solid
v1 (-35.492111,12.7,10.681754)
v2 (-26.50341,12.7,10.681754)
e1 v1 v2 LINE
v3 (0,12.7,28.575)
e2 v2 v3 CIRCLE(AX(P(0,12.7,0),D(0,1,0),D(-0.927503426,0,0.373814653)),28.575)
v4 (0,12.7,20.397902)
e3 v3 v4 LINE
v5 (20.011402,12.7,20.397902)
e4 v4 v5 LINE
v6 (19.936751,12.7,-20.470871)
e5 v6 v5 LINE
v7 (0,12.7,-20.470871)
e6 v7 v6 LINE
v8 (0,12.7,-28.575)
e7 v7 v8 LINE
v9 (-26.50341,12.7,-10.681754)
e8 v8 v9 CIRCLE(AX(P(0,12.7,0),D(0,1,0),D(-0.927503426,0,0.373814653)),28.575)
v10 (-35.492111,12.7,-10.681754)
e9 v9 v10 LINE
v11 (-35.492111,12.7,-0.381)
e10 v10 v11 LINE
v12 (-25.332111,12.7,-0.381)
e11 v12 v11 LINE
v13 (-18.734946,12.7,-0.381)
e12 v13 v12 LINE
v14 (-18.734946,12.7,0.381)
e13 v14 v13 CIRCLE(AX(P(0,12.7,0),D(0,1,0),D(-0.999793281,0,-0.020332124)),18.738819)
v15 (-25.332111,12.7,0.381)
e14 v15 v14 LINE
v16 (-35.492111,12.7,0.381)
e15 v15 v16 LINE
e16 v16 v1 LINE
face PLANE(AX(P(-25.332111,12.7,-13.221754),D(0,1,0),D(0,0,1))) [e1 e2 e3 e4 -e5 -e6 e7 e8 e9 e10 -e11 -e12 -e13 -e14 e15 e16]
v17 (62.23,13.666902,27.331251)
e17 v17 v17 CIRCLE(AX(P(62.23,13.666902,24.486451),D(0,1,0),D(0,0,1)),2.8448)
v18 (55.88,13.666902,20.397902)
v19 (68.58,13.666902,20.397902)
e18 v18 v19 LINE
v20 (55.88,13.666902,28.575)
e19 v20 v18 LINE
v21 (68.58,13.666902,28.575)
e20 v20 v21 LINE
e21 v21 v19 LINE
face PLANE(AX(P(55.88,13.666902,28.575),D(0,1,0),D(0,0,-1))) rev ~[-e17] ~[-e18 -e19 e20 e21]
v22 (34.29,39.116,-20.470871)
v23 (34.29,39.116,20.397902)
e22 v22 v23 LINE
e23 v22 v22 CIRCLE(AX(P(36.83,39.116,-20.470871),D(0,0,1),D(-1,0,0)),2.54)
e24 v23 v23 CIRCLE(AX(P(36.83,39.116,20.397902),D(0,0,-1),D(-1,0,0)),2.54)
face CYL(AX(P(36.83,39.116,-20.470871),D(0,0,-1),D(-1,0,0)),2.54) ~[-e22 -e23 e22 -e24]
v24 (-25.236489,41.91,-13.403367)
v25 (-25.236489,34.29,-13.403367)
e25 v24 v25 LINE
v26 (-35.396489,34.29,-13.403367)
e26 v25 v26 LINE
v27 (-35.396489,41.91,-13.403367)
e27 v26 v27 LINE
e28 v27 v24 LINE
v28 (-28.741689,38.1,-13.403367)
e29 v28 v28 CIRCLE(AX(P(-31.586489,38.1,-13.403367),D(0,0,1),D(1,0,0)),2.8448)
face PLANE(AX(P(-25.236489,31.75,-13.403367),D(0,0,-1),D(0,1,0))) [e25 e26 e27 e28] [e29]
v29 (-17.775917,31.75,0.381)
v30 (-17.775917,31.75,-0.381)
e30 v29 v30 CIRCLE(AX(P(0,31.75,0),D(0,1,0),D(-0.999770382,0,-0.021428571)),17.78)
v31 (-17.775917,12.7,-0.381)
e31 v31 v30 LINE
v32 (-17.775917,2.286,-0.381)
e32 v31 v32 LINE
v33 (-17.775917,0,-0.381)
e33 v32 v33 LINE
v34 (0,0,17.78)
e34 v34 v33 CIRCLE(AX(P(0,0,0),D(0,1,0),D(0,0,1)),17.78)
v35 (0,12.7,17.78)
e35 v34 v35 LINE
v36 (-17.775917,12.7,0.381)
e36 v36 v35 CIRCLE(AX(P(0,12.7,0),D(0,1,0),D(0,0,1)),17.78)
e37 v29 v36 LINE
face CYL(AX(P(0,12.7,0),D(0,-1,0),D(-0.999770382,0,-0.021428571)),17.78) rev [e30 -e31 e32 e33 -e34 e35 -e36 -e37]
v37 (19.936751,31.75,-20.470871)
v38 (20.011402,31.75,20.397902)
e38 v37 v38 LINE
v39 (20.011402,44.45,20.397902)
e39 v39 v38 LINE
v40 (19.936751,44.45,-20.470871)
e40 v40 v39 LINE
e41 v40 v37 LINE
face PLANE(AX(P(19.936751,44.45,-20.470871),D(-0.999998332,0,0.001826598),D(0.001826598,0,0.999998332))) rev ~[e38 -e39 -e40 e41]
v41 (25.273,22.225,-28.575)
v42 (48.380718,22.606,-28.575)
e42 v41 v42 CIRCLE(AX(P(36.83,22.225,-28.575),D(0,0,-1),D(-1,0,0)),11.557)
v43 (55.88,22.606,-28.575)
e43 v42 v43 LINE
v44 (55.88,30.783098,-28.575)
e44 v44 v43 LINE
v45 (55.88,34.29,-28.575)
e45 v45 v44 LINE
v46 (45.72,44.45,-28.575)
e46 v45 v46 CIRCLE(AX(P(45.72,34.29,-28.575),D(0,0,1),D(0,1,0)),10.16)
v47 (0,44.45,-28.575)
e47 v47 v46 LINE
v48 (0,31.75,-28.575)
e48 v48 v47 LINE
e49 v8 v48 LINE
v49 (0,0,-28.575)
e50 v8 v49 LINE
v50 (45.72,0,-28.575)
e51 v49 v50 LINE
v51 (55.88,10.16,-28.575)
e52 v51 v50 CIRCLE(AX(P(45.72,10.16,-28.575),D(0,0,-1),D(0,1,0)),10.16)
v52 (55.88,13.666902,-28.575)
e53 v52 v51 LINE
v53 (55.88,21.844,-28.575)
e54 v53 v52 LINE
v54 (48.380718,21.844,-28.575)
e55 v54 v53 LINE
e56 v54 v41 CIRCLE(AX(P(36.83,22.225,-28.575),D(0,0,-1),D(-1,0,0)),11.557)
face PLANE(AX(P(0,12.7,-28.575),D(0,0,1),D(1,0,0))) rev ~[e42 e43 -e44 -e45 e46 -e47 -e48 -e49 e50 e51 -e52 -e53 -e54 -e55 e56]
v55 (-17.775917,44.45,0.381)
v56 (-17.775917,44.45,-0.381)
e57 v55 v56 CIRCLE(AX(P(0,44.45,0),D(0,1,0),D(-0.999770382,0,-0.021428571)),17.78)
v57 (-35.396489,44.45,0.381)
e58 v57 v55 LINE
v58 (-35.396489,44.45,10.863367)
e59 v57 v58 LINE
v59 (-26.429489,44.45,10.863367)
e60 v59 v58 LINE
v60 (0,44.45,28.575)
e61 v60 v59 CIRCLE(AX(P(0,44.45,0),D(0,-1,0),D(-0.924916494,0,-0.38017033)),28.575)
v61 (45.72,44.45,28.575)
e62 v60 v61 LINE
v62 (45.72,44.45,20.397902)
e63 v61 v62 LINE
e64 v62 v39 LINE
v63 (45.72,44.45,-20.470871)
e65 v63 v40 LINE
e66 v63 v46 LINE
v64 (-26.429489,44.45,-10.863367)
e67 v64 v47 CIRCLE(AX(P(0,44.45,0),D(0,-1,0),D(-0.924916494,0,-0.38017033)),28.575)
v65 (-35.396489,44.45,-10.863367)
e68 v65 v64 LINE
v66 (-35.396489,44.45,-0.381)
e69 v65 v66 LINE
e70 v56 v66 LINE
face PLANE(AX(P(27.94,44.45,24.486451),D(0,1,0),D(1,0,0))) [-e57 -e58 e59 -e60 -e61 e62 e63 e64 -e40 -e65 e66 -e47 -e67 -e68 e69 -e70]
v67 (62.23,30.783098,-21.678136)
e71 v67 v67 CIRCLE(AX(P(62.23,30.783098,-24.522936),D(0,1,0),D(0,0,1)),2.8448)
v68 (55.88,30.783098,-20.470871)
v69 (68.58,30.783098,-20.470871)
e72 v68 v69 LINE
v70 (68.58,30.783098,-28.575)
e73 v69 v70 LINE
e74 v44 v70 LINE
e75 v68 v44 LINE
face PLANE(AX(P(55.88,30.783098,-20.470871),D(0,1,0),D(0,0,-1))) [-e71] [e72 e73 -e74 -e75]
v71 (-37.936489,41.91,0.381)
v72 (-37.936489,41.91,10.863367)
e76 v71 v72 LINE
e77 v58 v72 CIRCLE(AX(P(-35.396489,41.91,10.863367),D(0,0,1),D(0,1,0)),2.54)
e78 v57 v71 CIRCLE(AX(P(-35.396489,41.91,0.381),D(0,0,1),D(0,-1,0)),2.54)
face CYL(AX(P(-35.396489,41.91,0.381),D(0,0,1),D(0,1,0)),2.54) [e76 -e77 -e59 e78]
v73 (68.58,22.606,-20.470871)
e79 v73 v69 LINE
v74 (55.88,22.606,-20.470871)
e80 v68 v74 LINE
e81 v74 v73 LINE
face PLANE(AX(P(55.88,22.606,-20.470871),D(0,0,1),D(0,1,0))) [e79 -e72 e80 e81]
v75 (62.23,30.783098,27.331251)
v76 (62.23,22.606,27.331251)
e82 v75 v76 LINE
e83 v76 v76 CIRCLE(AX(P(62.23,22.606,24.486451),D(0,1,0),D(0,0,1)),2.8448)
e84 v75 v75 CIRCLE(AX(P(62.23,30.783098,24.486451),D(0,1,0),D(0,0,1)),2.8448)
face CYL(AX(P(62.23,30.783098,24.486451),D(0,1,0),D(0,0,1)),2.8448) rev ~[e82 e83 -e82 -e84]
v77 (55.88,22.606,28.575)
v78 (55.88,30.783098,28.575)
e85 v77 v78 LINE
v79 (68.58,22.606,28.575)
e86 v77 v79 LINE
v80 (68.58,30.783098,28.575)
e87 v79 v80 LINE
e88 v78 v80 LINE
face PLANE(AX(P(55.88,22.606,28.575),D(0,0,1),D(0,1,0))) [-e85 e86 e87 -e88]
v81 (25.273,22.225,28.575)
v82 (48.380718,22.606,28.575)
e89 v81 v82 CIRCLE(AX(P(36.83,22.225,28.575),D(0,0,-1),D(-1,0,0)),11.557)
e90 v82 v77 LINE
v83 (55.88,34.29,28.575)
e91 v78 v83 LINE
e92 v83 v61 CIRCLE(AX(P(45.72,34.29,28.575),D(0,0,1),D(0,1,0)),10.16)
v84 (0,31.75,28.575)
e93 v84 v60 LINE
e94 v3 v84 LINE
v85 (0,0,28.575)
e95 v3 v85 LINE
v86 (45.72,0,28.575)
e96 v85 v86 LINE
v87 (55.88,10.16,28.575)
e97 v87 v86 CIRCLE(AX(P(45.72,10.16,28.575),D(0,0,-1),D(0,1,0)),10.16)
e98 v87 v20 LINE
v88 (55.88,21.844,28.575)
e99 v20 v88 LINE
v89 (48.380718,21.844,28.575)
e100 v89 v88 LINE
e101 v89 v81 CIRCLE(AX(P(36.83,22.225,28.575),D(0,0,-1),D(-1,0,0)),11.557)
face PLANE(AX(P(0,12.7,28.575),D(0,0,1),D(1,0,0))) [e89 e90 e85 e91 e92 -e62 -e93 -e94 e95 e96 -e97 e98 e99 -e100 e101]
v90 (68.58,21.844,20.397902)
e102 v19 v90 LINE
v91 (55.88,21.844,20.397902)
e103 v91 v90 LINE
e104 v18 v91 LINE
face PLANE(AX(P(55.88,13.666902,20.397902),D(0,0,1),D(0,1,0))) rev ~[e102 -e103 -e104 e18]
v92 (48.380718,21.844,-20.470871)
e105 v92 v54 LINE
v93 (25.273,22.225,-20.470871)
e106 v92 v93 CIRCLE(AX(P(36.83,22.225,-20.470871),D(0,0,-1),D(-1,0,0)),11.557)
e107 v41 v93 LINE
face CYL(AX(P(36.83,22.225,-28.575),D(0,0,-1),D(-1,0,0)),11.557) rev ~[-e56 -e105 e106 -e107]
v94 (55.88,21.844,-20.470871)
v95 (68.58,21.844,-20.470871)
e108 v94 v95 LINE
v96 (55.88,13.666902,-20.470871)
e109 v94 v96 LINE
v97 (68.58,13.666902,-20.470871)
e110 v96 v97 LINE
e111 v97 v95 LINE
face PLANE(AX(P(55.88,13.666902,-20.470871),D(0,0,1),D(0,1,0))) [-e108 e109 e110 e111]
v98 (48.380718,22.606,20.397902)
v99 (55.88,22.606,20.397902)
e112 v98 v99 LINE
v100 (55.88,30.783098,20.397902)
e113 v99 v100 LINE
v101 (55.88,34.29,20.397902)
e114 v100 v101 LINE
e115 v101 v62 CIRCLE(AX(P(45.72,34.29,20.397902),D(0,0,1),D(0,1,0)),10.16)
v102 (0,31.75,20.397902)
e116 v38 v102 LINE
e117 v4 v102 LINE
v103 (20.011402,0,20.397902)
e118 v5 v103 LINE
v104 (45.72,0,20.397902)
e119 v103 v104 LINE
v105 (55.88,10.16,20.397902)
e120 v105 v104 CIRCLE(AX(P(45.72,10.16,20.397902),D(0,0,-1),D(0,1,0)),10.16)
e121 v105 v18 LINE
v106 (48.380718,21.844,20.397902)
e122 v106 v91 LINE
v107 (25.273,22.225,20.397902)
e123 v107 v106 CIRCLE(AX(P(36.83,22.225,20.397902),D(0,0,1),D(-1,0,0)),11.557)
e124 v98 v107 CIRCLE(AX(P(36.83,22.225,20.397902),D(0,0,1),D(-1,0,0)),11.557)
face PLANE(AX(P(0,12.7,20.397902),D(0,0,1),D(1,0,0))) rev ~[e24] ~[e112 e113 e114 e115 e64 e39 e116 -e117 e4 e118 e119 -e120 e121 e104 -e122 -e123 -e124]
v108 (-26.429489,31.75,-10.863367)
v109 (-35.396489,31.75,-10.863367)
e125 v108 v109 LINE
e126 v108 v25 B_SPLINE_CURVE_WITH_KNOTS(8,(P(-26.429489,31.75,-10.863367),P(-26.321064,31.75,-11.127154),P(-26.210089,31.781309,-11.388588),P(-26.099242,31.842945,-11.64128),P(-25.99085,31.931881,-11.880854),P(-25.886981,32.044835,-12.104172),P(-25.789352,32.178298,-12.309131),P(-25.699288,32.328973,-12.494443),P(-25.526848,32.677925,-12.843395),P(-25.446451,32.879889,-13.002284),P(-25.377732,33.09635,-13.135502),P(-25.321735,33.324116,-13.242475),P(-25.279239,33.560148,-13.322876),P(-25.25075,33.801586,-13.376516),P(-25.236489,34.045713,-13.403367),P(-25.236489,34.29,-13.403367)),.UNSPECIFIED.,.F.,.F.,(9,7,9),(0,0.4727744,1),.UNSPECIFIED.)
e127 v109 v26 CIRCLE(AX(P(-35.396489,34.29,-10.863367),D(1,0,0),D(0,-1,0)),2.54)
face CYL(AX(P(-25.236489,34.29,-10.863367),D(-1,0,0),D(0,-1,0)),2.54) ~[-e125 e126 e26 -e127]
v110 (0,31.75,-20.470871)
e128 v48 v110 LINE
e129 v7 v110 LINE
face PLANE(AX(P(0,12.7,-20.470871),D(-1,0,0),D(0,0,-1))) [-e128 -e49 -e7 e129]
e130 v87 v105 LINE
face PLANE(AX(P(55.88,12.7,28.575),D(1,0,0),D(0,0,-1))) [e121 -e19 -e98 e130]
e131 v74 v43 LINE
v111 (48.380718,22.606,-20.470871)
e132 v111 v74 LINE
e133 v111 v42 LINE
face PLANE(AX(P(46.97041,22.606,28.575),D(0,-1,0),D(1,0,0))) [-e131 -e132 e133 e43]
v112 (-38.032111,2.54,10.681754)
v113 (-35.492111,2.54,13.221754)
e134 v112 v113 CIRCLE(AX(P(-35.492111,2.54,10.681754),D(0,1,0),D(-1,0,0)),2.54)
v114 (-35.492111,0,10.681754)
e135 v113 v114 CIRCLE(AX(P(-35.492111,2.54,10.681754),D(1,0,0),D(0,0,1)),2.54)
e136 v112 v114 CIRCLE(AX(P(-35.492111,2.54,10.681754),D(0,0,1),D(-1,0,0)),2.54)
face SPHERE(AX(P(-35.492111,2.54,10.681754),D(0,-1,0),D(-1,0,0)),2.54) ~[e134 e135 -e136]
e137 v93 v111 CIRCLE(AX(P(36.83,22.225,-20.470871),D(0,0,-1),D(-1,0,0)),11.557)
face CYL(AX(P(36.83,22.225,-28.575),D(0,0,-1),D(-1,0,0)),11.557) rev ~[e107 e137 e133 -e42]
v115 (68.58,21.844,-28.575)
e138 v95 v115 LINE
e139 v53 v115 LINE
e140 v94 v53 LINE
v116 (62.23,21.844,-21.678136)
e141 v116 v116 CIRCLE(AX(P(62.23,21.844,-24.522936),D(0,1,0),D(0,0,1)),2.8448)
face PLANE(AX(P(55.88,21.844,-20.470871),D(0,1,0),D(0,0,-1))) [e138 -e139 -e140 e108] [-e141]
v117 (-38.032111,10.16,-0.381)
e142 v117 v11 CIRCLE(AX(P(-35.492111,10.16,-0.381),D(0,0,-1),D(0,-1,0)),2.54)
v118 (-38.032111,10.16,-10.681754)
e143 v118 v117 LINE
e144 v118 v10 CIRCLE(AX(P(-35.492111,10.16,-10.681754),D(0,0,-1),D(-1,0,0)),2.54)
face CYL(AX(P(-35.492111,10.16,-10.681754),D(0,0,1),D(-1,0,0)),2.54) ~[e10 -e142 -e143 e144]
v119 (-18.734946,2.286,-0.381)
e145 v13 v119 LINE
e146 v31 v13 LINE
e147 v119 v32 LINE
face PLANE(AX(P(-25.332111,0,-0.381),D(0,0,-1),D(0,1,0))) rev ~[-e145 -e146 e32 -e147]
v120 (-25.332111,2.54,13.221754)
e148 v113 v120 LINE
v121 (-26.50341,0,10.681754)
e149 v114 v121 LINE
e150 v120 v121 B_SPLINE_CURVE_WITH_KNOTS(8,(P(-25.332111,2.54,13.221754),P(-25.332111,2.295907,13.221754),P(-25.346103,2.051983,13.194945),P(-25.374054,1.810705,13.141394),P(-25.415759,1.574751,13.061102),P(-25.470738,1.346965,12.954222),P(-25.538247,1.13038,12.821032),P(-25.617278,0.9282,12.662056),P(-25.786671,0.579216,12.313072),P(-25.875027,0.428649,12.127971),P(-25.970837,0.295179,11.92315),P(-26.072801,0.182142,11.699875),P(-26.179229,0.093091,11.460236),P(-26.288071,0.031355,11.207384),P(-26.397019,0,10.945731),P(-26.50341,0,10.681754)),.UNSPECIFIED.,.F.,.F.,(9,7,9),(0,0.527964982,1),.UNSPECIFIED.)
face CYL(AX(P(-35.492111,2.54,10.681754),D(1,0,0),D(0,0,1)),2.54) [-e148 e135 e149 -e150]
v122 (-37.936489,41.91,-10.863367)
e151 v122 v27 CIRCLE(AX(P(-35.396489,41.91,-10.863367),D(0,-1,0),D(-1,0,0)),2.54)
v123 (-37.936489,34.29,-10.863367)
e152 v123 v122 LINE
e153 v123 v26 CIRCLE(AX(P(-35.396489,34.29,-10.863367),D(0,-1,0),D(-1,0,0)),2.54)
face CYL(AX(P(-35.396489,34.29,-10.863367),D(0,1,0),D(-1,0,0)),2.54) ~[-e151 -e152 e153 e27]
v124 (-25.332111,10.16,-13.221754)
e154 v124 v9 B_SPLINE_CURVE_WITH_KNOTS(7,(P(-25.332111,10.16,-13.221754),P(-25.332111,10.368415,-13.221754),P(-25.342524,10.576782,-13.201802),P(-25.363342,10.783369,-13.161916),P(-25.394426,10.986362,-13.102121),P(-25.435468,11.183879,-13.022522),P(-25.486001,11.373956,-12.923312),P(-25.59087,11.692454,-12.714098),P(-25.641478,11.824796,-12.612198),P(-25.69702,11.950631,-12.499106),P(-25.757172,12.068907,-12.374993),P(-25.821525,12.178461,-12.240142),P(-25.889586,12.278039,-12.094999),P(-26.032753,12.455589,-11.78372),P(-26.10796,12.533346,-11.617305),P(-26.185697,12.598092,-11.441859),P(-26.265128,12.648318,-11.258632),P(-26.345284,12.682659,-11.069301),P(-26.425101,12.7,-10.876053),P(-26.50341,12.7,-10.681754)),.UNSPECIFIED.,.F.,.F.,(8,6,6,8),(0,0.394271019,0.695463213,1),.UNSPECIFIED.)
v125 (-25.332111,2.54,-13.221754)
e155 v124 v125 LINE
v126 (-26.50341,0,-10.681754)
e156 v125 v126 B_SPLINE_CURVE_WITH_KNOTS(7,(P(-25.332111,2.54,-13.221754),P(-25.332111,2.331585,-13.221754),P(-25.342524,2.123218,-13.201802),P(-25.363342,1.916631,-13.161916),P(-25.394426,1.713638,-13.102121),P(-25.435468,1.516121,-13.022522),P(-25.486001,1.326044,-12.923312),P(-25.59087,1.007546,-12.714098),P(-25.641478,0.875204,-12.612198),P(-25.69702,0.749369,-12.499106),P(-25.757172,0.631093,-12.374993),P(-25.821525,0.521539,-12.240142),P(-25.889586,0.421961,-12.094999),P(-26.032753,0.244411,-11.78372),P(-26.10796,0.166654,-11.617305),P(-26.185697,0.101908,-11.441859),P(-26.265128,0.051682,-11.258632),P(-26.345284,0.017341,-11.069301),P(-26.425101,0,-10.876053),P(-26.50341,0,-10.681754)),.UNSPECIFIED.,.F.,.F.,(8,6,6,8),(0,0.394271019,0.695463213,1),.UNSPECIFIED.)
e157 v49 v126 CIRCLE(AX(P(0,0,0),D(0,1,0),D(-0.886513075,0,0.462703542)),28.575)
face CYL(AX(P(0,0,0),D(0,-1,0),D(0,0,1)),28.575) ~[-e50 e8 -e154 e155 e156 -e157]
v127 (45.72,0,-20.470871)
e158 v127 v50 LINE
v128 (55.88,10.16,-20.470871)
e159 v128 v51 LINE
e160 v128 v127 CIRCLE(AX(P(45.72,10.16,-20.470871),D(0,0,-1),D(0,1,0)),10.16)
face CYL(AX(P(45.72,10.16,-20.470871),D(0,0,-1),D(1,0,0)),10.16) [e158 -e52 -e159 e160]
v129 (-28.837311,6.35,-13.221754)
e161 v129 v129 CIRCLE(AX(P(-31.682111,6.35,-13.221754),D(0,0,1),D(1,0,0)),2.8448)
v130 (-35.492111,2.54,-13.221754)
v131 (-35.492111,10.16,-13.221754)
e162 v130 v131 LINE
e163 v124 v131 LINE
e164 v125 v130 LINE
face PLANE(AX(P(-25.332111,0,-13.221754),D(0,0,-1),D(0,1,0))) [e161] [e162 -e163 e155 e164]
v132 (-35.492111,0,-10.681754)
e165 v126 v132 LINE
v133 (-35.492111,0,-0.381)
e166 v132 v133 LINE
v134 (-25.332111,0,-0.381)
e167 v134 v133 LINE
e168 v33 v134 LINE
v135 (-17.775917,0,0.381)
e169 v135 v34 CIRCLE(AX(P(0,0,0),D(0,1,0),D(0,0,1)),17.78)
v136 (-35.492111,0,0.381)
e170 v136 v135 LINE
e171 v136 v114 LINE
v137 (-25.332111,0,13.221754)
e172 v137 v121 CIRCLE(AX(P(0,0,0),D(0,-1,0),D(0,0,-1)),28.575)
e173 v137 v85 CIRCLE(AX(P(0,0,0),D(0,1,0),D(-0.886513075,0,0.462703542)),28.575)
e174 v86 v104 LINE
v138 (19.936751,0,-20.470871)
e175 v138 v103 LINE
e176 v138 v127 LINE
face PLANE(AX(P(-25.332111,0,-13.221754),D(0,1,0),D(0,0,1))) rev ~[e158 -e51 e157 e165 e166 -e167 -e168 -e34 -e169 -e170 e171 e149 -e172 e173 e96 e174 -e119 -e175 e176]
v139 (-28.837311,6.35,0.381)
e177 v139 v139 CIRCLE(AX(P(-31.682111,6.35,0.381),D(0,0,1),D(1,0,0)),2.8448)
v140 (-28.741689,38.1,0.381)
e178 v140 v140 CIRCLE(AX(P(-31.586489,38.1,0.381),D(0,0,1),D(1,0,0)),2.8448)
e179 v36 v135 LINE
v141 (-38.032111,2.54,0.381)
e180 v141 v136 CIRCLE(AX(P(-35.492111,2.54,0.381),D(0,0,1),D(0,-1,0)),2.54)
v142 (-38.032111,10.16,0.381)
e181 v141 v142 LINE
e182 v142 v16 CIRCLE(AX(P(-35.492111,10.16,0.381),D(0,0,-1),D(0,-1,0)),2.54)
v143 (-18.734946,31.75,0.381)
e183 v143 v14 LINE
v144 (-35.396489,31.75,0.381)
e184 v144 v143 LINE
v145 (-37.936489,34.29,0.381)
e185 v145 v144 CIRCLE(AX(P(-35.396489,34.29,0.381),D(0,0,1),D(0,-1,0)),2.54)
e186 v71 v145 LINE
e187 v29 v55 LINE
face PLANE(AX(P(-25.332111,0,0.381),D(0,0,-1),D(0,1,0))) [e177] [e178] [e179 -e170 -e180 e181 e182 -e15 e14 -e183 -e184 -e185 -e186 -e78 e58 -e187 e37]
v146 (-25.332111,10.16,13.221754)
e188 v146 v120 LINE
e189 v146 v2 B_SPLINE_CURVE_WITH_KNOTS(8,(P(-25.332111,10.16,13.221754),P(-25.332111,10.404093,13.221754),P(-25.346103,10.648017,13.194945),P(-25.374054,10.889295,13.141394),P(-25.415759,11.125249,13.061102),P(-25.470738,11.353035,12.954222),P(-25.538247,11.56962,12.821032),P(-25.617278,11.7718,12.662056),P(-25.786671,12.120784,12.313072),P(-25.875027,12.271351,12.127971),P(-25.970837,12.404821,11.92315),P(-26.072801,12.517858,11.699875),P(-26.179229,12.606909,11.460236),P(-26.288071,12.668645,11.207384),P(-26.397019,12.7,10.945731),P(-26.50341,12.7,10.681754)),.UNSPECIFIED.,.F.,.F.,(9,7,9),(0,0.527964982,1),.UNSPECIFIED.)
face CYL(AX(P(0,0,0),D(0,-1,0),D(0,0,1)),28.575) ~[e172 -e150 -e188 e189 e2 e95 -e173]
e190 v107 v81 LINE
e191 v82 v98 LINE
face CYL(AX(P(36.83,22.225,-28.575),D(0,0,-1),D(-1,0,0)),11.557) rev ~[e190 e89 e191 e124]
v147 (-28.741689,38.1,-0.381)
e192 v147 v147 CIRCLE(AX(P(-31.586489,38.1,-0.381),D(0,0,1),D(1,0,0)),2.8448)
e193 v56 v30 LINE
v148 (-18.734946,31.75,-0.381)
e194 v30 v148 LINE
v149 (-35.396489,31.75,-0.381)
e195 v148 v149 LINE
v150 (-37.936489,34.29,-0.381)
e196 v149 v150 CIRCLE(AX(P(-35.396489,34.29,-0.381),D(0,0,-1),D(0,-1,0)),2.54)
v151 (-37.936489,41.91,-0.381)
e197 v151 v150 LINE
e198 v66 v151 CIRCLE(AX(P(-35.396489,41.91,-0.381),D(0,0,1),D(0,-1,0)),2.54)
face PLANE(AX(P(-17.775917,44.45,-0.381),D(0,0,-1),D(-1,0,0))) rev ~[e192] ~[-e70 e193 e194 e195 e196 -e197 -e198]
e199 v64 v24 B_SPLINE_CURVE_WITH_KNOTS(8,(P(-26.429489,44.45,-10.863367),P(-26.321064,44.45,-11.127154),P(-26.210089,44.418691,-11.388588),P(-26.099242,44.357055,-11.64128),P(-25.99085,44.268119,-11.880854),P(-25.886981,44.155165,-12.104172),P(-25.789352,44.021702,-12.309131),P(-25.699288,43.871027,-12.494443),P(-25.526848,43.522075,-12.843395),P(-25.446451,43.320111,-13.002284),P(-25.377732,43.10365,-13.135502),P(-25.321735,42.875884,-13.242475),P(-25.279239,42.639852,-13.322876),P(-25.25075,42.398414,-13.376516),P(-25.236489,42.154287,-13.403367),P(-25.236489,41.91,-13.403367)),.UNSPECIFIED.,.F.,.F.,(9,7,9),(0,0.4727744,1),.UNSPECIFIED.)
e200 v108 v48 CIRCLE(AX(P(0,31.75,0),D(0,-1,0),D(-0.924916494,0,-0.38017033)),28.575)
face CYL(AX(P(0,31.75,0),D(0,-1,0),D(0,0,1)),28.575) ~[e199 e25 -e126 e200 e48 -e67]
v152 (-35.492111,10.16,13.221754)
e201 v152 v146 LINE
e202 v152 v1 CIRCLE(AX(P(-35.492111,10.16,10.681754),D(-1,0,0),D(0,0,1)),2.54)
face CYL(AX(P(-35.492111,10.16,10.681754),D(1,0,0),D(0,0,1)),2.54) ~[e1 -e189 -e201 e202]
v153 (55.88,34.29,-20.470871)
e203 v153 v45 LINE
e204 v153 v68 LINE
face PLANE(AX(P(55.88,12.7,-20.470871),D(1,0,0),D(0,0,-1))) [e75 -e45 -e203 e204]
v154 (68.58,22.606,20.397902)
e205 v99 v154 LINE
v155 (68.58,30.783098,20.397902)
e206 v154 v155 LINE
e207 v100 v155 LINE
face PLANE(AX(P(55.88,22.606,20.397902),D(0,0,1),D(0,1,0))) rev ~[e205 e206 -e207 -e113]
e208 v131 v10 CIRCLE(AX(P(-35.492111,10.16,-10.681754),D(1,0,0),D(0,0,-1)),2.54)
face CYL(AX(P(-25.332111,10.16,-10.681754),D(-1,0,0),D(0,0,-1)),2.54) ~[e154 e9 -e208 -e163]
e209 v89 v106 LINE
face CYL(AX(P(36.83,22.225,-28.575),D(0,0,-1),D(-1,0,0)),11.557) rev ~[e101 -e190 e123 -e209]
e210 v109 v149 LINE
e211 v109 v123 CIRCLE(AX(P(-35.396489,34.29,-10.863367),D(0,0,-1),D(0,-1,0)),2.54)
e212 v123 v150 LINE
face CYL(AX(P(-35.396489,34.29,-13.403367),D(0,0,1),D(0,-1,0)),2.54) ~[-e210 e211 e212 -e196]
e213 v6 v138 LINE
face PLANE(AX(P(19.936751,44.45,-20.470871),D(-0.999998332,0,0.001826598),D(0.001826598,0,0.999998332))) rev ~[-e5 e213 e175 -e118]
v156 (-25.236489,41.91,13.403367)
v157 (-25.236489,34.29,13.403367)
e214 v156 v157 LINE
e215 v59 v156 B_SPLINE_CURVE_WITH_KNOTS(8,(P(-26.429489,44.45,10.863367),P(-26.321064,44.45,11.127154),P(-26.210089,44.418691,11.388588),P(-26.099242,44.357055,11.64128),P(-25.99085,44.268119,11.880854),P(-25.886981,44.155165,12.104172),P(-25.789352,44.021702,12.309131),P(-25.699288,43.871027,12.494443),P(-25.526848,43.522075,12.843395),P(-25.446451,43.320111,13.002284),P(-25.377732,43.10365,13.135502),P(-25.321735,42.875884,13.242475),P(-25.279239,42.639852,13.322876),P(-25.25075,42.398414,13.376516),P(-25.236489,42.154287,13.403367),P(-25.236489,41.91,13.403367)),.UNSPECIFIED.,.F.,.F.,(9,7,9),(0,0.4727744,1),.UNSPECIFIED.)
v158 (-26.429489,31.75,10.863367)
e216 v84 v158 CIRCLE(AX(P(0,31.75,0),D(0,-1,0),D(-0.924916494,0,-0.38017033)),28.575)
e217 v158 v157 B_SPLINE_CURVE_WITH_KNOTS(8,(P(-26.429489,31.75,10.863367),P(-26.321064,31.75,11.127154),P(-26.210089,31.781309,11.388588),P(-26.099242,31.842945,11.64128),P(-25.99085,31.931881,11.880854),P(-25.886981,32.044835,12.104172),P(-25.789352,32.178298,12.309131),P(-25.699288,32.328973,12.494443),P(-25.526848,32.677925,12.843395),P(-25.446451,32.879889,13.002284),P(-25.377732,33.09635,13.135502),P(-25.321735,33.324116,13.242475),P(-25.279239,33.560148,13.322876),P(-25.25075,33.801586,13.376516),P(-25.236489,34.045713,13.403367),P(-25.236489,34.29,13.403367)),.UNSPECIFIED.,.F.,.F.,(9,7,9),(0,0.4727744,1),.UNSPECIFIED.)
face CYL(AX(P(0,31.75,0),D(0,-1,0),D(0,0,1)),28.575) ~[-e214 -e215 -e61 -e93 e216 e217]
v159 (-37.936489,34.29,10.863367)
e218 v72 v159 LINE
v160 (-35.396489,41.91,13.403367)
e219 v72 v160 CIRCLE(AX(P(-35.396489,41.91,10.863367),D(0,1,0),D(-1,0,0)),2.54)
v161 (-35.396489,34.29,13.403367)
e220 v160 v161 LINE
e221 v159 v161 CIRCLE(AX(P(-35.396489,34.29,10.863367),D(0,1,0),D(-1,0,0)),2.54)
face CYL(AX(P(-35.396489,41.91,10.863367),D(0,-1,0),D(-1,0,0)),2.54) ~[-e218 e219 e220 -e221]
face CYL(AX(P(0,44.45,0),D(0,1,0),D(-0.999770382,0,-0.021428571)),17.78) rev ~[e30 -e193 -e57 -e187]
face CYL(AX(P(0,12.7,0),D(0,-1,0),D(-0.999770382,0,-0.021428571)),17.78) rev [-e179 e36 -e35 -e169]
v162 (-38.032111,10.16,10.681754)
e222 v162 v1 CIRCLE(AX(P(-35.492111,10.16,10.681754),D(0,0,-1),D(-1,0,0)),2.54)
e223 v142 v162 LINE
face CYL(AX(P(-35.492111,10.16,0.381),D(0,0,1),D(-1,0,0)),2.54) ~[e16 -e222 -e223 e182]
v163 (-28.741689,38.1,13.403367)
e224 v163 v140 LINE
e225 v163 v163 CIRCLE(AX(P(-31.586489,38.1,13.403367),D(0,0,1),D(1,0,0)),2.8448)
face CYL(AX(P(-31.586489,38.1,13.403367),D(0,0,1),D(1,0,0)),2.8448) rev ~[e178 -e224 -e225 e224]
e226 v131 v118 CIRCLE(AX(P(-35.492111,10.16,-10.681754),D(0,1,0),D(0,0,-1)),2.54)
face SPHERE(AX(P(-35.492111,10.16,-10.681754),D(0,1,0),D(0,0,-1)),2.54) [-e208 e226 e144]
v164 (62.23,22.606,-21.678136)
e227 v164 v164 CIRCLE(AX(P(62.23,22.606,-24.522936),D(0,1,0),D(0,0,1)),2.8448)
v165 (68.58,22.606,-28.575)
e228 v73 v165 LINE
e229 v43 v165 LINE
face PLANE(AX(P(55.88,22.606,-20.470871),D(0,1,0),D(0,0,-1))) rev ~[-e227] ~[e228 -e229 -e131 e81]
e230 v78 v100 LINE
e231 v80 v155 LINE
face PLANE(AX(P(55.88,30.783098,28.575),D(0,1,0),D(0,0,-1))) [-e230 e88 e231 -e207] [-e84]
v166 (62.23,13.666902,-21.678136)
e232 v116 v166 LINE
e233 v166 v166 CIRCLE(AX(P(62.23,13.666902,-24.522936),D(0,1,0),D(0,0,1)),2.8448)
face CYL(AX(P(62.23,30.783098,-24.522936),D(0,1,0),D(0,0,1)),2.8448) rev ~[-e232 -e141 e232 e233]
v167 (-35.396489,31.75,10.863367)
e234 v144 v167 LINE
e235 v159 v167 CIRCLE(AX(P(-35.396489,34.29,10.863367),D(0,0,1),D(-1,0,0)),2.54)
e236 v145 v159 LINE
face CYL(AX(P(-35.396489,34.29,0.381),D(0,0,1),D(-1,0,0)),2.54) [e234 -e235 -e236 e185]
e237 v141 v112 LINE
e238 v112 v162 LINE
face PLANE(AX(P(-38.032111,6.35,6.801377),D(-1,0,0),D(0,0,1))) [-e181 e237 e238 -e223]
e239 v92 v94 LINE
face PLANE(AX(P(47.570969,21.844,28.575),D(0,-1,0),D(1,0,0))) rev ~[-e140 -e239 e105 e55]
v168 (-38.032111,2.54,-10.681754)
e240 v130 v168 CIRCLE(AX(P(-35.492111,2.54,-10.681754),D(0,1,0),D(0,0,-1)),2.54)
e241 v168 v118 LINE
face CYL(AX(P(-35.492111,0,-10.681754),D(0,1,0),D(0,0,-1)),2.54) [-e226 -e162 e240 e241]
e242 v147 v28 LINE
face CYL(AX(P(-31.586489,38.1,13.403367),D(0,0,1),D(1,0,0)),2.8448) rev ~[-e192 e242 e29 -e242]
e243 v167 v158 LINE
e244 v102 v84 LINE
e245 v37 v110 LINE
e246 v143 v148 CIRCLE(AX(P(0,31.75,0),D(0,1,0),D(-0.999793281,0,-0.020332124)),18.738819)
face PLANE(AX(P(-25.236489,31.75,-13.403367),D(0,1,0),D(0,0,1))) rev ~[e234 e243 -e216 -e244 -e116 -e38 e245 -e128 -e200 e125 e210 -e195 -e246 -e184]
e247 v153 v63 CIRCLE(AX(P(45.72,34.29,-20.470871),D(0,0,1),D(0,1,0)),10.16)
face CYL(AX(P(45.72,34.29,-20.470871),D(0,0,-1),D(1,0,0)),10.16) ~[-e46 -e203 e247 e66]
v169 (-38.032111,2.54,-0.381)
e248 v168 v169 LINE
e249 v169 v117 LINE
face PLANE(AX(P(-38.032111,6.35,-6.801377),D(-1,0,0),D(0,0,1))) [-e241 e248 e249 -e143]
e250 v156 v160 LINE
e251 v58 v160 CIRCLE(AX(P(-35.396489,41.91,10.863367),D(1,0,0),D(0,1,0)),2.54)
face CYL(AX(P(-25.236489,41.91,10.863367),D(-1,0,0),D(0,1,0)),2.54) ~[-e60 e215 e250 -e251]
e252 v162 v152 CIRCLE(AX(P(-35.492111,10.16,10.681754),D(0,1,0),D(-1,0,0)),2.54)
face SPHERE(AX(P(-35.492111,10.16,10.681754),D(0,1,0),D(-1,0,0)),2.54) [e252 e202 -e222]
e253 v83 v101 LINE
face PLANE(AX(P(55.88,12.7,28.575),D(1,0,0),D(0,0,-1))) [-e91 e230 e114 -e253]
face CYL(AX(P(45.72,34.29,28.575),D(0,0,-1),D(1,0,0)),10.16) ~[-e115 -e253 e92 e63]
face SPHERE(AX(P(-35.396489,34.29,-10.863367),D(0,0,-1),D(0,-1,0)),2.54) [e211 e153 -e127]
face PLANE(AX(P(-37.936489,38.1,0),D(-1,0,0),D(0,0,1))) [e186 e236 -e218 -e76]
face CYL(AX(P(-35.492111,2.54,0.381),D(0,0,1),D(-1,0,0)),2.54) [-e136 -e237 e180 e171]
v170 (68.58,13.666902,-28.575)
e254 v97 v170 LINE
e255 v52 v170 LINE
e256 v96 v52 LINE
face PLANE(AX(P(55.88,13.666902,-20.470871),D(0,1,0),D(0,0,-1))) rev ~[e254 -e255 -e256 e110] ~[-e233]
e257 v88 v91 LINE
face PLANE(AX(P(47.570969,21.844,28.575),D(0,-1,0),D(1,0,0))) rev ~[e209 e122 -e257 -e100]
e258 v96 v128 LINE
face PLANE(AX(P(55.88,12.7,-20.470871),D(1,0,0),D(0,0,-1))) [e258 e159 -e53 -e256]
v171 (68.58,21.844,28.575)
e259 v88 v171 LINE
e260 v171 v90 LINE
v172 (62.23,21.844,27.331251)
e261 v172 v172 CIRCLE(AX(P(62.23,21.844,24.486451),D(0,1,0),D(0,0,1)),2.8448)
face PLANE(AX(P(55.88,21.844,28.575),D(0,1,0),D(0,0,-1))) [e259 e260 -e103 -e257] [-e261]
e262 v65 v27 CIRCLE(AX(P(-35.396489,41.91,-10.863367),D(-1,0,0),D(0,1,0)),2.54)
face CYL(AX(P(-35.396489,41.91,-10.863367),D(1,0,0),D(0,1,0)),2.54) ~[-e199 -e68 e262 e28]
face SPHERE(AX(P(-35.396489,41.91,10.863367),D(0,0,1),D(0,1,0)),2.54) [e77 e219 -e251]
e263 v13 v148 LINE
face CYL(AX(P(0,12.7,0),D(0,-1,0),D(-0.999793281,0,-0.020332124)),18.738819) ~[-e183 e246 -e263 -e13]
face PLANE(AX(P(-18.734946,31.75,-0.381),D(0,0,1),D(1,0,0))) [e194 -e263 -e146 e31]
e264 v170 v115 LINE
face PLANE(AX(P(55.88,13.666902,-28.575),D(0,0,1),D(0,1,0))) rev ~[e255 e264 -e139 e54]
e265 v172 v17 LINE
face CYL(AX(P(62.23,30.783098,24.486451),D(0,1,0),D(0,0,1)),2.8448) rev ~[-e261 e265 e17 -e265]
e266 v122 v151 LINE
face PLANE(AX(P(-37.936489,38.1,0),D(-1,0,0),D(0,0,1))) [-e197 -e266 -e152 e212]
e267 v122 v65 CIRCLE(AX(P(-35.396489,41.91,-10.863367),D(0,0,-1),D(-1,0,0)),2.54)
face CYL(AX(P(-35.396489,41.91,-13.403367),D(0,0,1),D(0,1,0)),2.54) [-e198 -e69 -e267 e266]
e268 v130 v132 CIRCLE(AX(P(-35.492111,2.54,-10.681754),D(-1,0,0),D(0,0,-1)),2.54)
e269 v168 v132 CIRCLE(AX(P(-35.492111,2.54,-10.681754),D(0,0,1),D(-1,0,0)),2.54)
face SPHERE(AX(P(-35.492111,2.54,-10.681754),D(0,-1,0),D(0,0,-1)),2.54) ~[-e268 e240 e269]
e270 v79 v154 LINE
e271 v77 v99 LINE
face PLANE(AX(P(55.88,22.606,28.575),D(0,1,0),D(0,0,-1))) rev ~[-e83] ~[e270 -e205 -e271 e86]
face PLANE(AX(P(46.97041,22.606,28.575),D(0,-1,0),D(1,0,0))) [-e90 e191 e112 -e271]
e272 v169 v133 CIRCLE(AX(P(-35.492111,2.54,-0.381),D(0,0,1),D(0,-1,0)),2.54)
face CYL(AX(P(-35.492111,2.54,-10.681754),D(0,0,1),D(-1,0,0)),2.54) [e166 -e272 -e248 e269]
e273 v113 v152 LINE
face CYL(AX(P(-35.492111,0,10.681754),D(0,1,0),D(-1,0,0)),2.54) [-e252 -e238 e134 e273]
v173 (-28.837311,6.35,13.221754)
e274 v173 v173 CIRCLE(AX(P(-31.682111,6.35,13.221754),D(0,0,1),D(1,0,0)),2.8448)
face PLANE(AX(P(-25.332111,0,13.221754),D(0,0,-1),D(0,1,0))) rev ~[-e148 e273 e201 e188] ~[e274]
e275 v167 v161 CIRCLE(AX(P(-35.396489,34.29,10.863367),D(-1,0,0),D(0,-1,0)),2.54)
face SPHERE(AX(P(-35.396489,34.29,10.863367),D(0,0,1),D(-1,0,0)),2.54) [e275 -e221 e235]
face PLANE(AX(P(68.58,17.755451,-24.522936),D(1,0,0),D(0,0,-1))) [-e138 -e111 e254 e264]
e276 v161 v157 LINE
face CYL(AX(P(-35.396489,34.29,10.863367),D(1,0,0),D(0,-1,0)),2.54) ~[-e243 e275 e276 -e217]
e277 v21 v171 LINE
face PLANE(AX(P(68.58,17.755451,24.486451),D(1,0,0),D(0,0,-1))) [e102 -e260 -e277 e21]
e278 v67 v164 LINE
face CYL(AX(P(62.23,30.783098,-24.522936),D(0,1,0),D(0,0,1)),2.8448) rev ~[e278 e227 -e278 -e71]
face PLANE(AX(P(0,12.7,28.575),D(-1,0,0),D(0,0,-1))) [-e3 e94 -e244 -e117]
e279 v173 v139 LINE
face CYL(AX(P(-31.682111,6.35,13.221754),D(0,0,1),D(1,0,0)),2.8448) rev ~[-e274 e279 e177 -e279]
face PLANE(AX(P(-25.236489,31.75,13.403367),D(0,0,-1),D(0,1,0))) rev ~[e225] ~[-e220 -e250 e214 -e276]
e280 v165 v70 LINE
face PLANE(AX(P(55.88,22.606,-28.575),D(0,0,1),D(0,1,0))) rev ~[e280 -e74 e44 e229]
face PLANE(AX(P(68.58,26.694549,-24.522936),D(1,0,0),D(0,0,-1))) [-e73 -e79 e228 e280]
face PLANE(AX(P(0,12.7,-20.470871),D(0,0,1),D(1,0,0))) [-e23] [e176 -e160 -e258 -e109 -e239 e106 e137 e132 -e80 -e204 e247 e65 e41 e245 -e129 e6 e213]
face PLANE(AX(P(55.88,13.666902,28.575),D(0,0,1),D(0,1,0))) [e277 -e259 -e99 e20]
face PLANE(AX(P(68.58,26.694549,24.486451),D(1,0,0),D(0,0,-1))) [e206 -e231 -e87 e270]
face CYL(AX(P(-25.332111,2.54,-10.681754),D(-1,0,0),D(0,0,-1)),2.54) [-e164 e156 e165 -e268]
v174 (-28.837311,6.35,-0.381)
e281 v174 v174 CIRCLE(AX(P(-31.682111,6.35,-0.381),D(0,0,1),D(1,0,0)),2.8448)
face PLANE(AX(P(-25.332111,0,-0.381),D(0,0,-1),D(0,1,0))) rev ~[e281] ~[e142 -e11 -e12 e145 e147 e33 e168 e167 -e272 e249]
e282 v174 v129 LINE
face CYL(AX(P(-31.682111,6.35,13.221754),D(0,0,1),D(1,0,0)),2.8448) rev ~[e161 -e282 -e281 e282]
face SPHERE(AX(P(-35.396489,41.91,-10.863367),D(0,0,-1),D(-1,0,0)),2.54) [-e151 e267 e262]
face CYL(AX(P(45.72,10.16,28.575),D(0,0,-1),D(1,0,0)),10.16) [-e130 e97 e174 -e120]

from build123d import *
from build123d.topology import SkipClean

# Parameters (mm, degrees)
SKETCH2_R                 = 28.575
SKETCH2_R_2               = 17.78
BOSS_EXTRUDE3_DEPTH       = 12.7
SKETCH3_W                 = 10.854473524
SKETCH3_H                 = 26.443507434
CUT_EXTRUDE1_DEPTH        = 12.7
CUT_EXTRUDE2_DEPTH        = 12.7
SKETCH5_W                 = 12.840753717
SKETCH5_H                 = 12.7
BOSS_EXTRUDE4_DEPTH       = 12.7
SKETCH6_W                 = 12.840753717
SKETCH6_H                 = 12.7
BOSS_EXTRUDE5_DEPTH       = 12.7
SKETCH7_R                 = 2.8448
CUT_EXTRUDE3_DEPTH        = 33.02
FILLET1_R                 = 2.54
FILLET2_R                 = 2.54
FILLET3_R                 = 2.54
FILLET4_R                 = 2.54
FILLET5_R                 = 2.54
FILLET6_R                 = 2.54
SKETCH8_R                 = 18.738819316
SKETCH8_R_2               = 17.78
BOSS_EXTRUDE6_DEPTH       = 19.05
SKETCH9_R                 = 28.575
BOSS_EXTRUDE7_DEPTH       = 12.7
SKETCH12_W                = 11.37566774
SKETCH12_H                = 26.806734356
CUT_EXTRUDE4_DEPTH        = 12.7
SKETCH13_W                = 26.806734356
SKETCH13_H                = 12.7
BOSS_EXTRUDE8_DEPTH       = 12.7
SKETCH14_R                = 17.78
CUT_EXTRUDE5_DEPTH        = 12.7
CUT_EXTRUDE6_DEPTH        = 12.7
SKETCH16_W                = 20.93971863
SKETCH16_H                = 0.381
CUT_EXTRUDE7_DEPTH        = 12.7
FILLET7_R                 = 2.54
FILLET8_R                 = 2.54
FILLET9_R                 = 2.54
FILLET10_R                = 2.54
FILLET11_R                = 2.54
FILLET12_R                = 2.54
SKETCH17_R                = 2.8448
CUT_EXTRUDE8_DEPTH        = 29.464
SKETCH19_W                = 1.827097527
SKETCH19_H                = 0.762
CUT_EXTRUDE13_DEPTH       = 29.464
SKETCH22_W                = 55.88
SKETCH22_H                = 8.17709812
BOSS_EXTRUDE12_DEPTH      = 31.75
BOSS_EXTRUDE12_DEPTH_BACK = 12.7
SKETCH23_W                = 55.88
SKETCH23_H                = 8.104128776
BOSS_EXTRUDE13_DEPTH      = 31.75
BOSS_EXTRUDE13_DEPTH_BACK = 12.7
SKETCH24_R                = 11.557
CUT_EXTRUDE14_DEPTH       = 67.31
FILLET13_R                = 10.16
FILLET14_R                = 10.16
FILLET15_R                = 10.16
FILLET16_R                = 10.16
CUT_EXTRUDE15_DEPTH       = 67.31
SKETCH26_R                = 2.54
BOSS_EXTRUDE14_DEPTH      = 43.434
SKETCH27_W                = 10.889060874
SKETCH27_H                = 0.381
CUT_EXTRUDE16_DEPTH       = 64.516
SKETCH28_W                = 8.900082699
SKETCH28_H                = 0.381
CUT_EXTRUDE17_DEPTH       = 64.516
SKETCH29_W                = 8.17709812
SKETCH29_H                = 8.1770982
BOSS_EXTRUDE15_DEPTH      = 12.7
SKETCH30_W                = 8.17709812
SKETCH30_H                = 8.1770982
BOSS_EXTRUDE16_DEPTH      = 12.7
SKETCH31_R                = 2.8448
CUT_EXTRUDE18_DEPTH       = 22.098
SKETCH34_W                = 8.104128776
SKETCH34_H                = 8.1770982
BOSS_EXTRUDE17_DEPTH      = 12.7
SKETCH35_W                = 8.104128776
SKETCH35_H                = 8.1770982
BOSS_EXTRUDE18_DEPTH      = 12.7
SKETCH36_R                = 2.8448
CUT_EXTRUDE19_DEPTH       = 27.686


with BuildPart() as part:
    # Sketch2 → Boss-Extrude3 (new body)
    with BuildSketch(Plane(origin=(0, 0, 0), x_dir=(1, 0, 0), z_dir=(0, 1, 0))):
        with Locations(Location((0, 0, 0), (0, 0, 270))):
            Circle(SKETCH2_R)
        with Locations(Location((0, 0, 0), (0, 0, 270))):
            Circle(SKETCH2_R_2, mode=Mode.SUBTRACT)
    extrude(amount=BOSS_EXTRUDE3_DEPTH)

    # Sketch3 → Cut-Extrude1 (cut)
    with BuildSketch(Plane(origin=(0, 12.7, 0), x_dir=(1, 0, 0), z_dir=(0, 1, 0))):
        with Locations((-30.759347879, 0)):
            Rectangle(SKETCH3_W, SKETCH3_H)
    extrude(amount=-CUT_EXTRUDE1_DEPTH, mode=Mode.SUBTRACT)

    # Sketch4 → Cut-Extrude2 (cut)
    with BuildSketch(Plane(origin=(0, 12.7, 0), x_dir=(1, 0, 0), z_dir=(0, 1, 0))):
        Polygon((-16.376768267, 0), (-16.376768267, 0.381), (-26.003615217, 0.381), (-26.003615217, -0.381), (-16.376768267, -0.381), align=None)
    extrude(amount=-CUT_EXTRUDE2_DEPTH, mode=Mode.SUBTRACT)

    # Sketch5 → Boss-Extrude4 (add)
    with BuildSketch(Plane.ZY.offset(25.332111117)):
        with Locations((6.801376859, 6.35)):
            Rectangle(SKETCH5_W, SKETCH5_H)
    extrude(amount=BOSS_EXTRUDE4_DEPTH)

    # Sketch6 → Boss-Extrude5 (add)
    with BuildSketch(Plane.ZY.offset(25.332111117)):
        with Locations((-6.801376859, 6.35)):
            Rectangle(SKETCH6_W, SKETCH6_H)
    extrude(amount=BOSS_EXTRUDE5_DEPTH)

    # Sketch7 → Cut-Extrude3 (cut)
    with BuildSketch(Plane.XY.offset(13.221753717)):
        with Locations((-31.682111117, 6.35)):
            Circle(SKETCH7_R)
    extrude(amount=-CUT_EXTRUDE3_DEPTH, mode=Mode.SUBTRACT)

    # Fillet1
    fillet1_edges = [part.edges().sort_by_distance(p)[0] for p in [
        (-38.032111117, 6.35, 13.221753717),
    ]]
    fillet(fillet1_edges, radius=FILLET1_R)

    # Fillet2
    fillet2_edges = [part.edges().sort_by_distance(p)[0] for p in [
        (-38.032111117, 6.35, -13.221753717),
    ]]
    fillet(fillet2_edges, radius=FILLET2_R)

    # Fillet3
    fillet3_edges = [part.edges().sort_by_distance(p)[0] for p in [
        (-30.412111117, 12.7, -13.221753717),
        (-37.288162341, 12.7, -12.477804942),
        (-38.032111117, 12.7, -5.531376859),
    ]]
    fillet(fillet3_edges, radius=FILLET3_R)

    # Fillet4
    fillet4_edges = [part.edges().sort_by_distance(p)[0] for p in [
        (-38.032111117, 12.7, 5.531376859),
        (-30.412111117, 12.7, 13.221753717),
        (-37.288162341, 12.7, 12.477804942),
    ]]
    fillet(fillet4_edges, radius=FILLET4_R)

    # Fillet5
    fillet5_edges = [part.edges().sort_by_distance(p)[0] for p in [
        (-30.412111117, 0, -13.221753717),
        (-37.288162341, 0, -12.477804942),
        (-38.032111117, 0, -5.531376859),
    ]]
    fillet(fillet5_edges, radius=FILLET5_R)

    # Fillet6
    fillet6_edges = [part.edges().sort_by_distance(p)[0] for p in [
        (-38.032111117, 0, 5.531376859),
        (-30.412111117, 0, 13.221753717),
        (-37.288162341, 0, 12.477804942),
    ]]
    fillet(fillet6_edges, radius=FILLET6_R)

    # Sketch8 → Boss-Extrude6 (add)
    with BuildSketch(Plane(origin=(0, 12.7, 0), x_dir=(1, 0, 0), z_dir=(0, 1, 0))):
        with Locations(Location((0, 0, 0), (0, 0, 178.834974821))):
            Circle(SKETCH8_R)
        with Locations(Location((0, 0, 0), (0, 0, 178.772139315))):
            Circle(SKETCH8_R_2, mode=Mode.SUBTRACT)
    extrude(amount=BOSS_EXTRUDE6_DEPTH)

    # Sketch9 → Boss-Extrude7 (add)
    with BuildSketch(Plane(origin=(0, 31.75, 0), x_dir=(1, 0, 0), z_dir=(0, 1, 0))):
        with Locations(Location((0, 0, 0), (0, 0, 270))):
            Circle(SKETCH9_R)
    extrude(amount=BOSS_EXTRUDE7_DEPTH)

    # Sketch12 → Cut-Extrude4 (cut)
    with BuildSketch(Plane(origin=(0, 44.45, 0), x_dir=(1, 0, 0), z_dir=(0, 1, 0))):
        with Locations((-30.924322796, 0)):
            Rectangle(SKETCH12_W, SKETCH12_H)
    extrude(amount=-CUT_EXTRUDE4_DEPTH, mode=Mode.SUBTRACT)

    # Sketch13 → Boss-Extrude8 (add)
    with BuildSketch(Plane.ZY.offset(25.236488926)):
        with Locations((0, 38.1)):
            Rectangle(SKETCH13_W, SKETCH13_H)
    extrude(amount=BOSS_EXTRUDE8_DEPTH)

    # Sketch14 → Cut-Extrude5 (cut)
    with BuildSketch(Plane(origin=(0, 44.45, 0), x_dir=(1, 0, 0), z_dir=(0, 1, 0))):
        with Locations(Location((0, 0, 0), (0, 0, 178.772139315))):
            Circle(SKETCH14_R)
    extrude(amount=-CUT_EXTRUDE5_DEPTH, mode=Mode.SUBTRACT)

    # Sketch15 → Cut-Extrude6 (cut)
    with BuildSketch(Plane(origin=(0, 44.45, 0), x_dir=(1, 0, 0), z_dir=(0, 1, 0))):
        with BuildLine():
            Line((-37.936488926, 0.381), (-37.936488926, 0))
            Line((-37.936488926, 0), (-17.78, 0))
            ThreePointArc((-17.78, 0), (-17.778979318, 0.190510937), (-17.775917388, 0.381))
            Line((-17.775917388, 0.381), (-37.936488926, 0.381))
        make_face()
    extrude(amount=-CUT_EXTRUDE6_DEPTH, mode=Mode.SUBTRACT)

    # Sketch16 → Cut-Extrude7 (cut)
    with BuildSketch(Plane(origin=(0, 44.45, 0), x_dir=(1, 0, 0), z_dir=(0, 1, 0))):
        with Locations((-27.466629611, -0.1905)):
            Rectangle(SKETCH16_W, SKETCH16_H)
    extrude(amount=-CUT_EXTRUDE7_DEPTH, mode=Mode.SUBTRACT)

    # Fillet7
    fillet7_edges = [part.edges().sort_by_distance(p)[0] for p in [
        (-37.936488926, 44.45, -6.892183589),
    ]]
    fillet(fillet7_edges, radius=FILLET7_R)

    # Fillet8
    fillet8_edges = [part.edges().sort_by_distance(p)[0] for p in [
        (-37.936488926, 44.45, 6.892183589),
    ]]
    fillet(fillet8_edges, radius=FILLET8_R)

    # Fillet9
    fillet9_edges = [part.edges().sort_by_distance(p)[0] for p in [
        (-37.936488926, 31.75, -6.892183589),
    ]]
    fillet(fillet9_edges, radius=FILLET9_R)

    # Fillet10
    fillet10_edges = [part.edges().sort_by_distance(p)[0] for p in [
        (-37.936488926, 31.75, 6.892183589),
    ]]
    fillet(fillet10_edges, radius=FILLET10_R)

    # Fillet11
    fillet11_edges = [part.edges().sort_by_distance(p)[0] for p in [
        (-30.316488926, 44.45, 13.403367178),
        (-37.19254015, 43.706051224, 13.403367178),
        (-37.936488926, 38.1, 13.403367178),
        (-30.316488926, 31.75, 13.403367178),
        (-37.19254015, 32.493948776, 13.403367178),
    ]]
    fillet(fillet11_edges, radius=FILLET11_R)

    # Fillet12
    fillet12_edges = [part.edges().sort_by_distance(p)[0] for p in [
        (-37.936488926, 38.1, -13.403367178),
        (-30.316488926, 44.45, -13.403367178),
        (-37.19254015, 43.706051224, -13.403367178),
        (-30.316488926, 31.75, -13.403367178),
        (-37.19254015, 32.493948776, -13.403367178),
    ]]
    fillet(fillet12_edges, radius=FILLET12_R)

    # Sketch17 → Cut-Extrude8 (cut)
    with BuildSketch(Plane.XY.offset(13.403367178)):
        with Locations((-31.586488926, 38.1)):
            Circle(SKETCH17_R)
    extrude(amount=-CUT_EXTRUDE8_DEPTH, mode=Mode.SUBTRACT)

    # Sketch19 → Cut-Extrude13 (cut)
    with BuildSketch(Plane(origin=(0, 31.75, 0), x_dir=(1, 0, 0), z_dir=(0, 1, 0))):
        with Locations((-17.821396883, 0)):
            Rectangle(SKETCH19_W, SKETCH19_H)
    extrude(amount=-CUT_EXTRUDE13_DEPTH, mode=Mode.SUBTRACT)


with BuildPart() as cut_extrude13_kept_piece:
    # of the separate pieces the step leaves, the one the design keeps (cut_extrude13_pieces_kept)
    add(part.part.solids().sort_by_distance((-35.396488926, 31.75, -10.863367178))[0])

    # Sketch22 → Boss-Extrude12 (add, two sides)
    with BuildSketch(Plane(origin=(0, 12.7, 0), x_dir=(1, 0, 0), z_dir=(0, 1, 0))) as boss_extrude12_sk:
        with Locations((27.94, -24.48645094)):
            Rectangle(SKETCH22_W, SKETCH22_H)
    extrude(amount=BOSS_EXTRUDE12_DEPTH)
    extrude(boss_extrude12_sk.sketch, amount=-BOSS_EXTRUDE12_DEPTH_BACK)

    # Sketch23 → Boss-Extrude13 (add, two sides)
    with BuildSketch(Plane(origin=(0, 12.7, 0), x_dir=(1, 0, 0), z_dir=(0, 1, 0))) as boss_extrude13_sk:
        with Locations((27.94, 24.522935612)):
            Rectangle(SKETCH23_W, SKETCH23_H)
    extrude(amount=BOSS_EXTRUDE13_DEPTH)
    extrude(boss_extrude13_sk.sketch, amount=-BOSS_EXTRUDE13_DEPTH_BACK)

    # Sketch24 → Cut-Extrude14 (cut)
    with BuildSketch(Plane(origin=(0, 0, -28.575), x_dir=(-1, 0, 0), z_dir=(0, 0, -1))):
        with Locations((-36.83, 22.225)):
            Circle(SKETCH24_R)
    extrude(amount=-CUT_EXTRUDE14_DEPTH, mode=Mode.SUBTRACT)

    # Fillet13
    fillet13_edges = [cut_extrude13_kept_piece.edges().sort_by_distance(p)[0] for p in [
        (55.88, 44.45, 24.48645094),
    ]]
    fillet(fillet13_edges, radius=FILLET13_R)

    # Fillet14
    fillet14_edges = [cut_extrude13_kept_piece.edges().sort_by_distance(p)[0] for p in [
        (55.88, 0, 24.48645094),
    ]]
    fillet(fillet14_edges, radius=FILLET14_R)

    # Fillet15
    fillet15_edges = [cut_extrude13_kept_piece.edges().sort_by_distance(p)[0] for p in [
        (55.88, 44.45, -24.522935612),
    ]]
    fillet(fillet15_edges, radius=FILLET15_R)

    # Fillet16
    fillet16_edges = [cut_extrude13_kept_piece.edges().sort_by_distance(p)[0] for p in [
        (55.88, 0, -24.522935612),
    ]]
    fillet(fillet16_edges, radius=FILLET16_R)

    # Sketch25 → Cut-Extrude15 (cut)
    with SkipClean():  # the faces are left unmerged after this step: merging them gives an invalid solid
        with BuildSketch(Plane(origin=(0, 44.45, 0), x_dir=(1, 0, 0), z_dir=(0, 1, 0))):
            Polygon((28.57495233, 0.052195041), (28.57495233, 20.470871224), (19.936751399, 20.470871224), (20.011402347, -20.39790188), (28.575, -20.39790188), align=None)
        extrude(amount=-CUT_EXTRUDE15_DEPTH, mode=Mode.SUBTRACT)


with BuildPart() as body_2:
    # of the pieces the cut leaves, the one that is kept (cut_extrude15_keep)
    add(cut_extrude13_kept_piece.part.solids().sort_by_distance((55.88, 10.16, -20.470871224))[0])

    # Sketch26 → Boss-Extrude14 (add)
    with SkipClean():  # the faces are left unmerged after this step: merging them gives an invalid solid
        with BuildSketch(Plane.XY.offset(-20.470871224)):
            with Locations(Location((36.83, 39.116, 0), (0, 0, 180))):
                Circle(SKETCH26_R)
        extrude(amount=BOSS_EXTRUDE14_DEPTH)

    # Sketch27 → Cut-Extrude16 (cut)
    with SkipClean():  # the faces are left unmerged after this step: merging them gives an invalid solid
        with BuildSketch(Plane.XY.offset(28.575)):
            with Locations((52.414940452, 22.4155)):
                Rectangle(SKETCH27_W, SKETCH27_H)
        extrude(amount=-CUT_EXTRUDE16_DEPTH, mode=Mode.SUBTRACT)

    # Sketch28 → Cut-Extrude17 (cut)
    with SkipClean():  # the faces are left unmerged after this step: merging them gives an invalid solid
        with BuildSketch(Plane.XY.offset(28.575)):
            with Locations((52.021010234, 22.0345)):
                Rectangle(SKETCH28_W, SKETCH28_H)
        extrude(amount=-CUT_EXTRUDE17_DEPTH, mode=Mode.SUBTRACT)

    # Sketch29 → Boss-Extrude15 (add)
    with SkipClean():  # the faces are left unmerged after this step: merging them gives an invalid solid
        with BuildSketch(Plane(origin=(55.88, 0, 0), x_dir=(0, 0, -1), z_dir=(1, 0, 0))):
            with Locations((-24.48645094, 26.6945491)):
                Rectangle(SKETCH29_W, SKETCH29_H)
        extrude(amount=BOSS_EXTRUDE15_DEPTH)

    # Sketch30 → Boss-Extrude16 (add)
    with SkipClean():  # the faces are left unmerged after this step: merging them gives an invalid solid
        with BuildSketch(Plane(origin=(55.88, 0, 0), x_dir=(0, 0, -1), z_dir=(1, 0, 0))):
            with Locations((-24.48645094, 17.7554509)):
                Rectangle(SKETCH30_W, SKETCH30_H)
        extrude(amount=BOSS_EXTRUDE16_DEPTH)

    # Sketch31 → Cut-Extrude18 (cut)
    with SkipClean():  # the faces are left unmerged after this step: merging them gives an invalid solid
        with BuildSketch(Plane(origin=(0, 30.7830982, 0), x_dir=(1, 0, 0), z_dir=(0, 1, 0))):
            with Locations(Location((62.23, -24.48645094, 0), (0, 0, 270))):
                Circle(SKETCH31_R)
        extrude(amount=-CUT_EXTRUDE18_DEPTH, mode=Mode.SUBTRACT)

    # Sketch34 → Boss-Extrude17 (add)
    with SkipClean():  # the faces are left unmerged after this step: merging them gives an invalid solid
        with BuildSketch(Plane(origin=(55.88, 0, 0), x_dir=(0, 0, -1), z_dir=(1, 0, 0))):
            with Locations((24.522935612, 26.6945491)):
                Rectangle(SKETCH34_W, SKETCH34_H)
        extrude(amount=BOSS_EXTRUDE17_DEPTH)

    # Sketch35 → Boss-Extrude18 (add)
    with SkipClean():  # the faces are left unmerged after this step: merging them gives an invalid solid
        with BuildSketch(Plane(origin=(55.88, 0, 0), x_dir=(0, 0, -1), z_dir=(1, 0, 0))):
            with Locations((24.522935612, 17.7554509)):
                Rectangle(SKETCH35_W, SKETCH35_H)
        extrude(amount=BOSS_EXTRUDE18_DEPTH)

    # Sketch36 → Cut-Extrude19 (cut)
    with SkipClean():  # the faces are left unmerged after this step: merging them gives an invalid solid
        with BuildSketch(Plane(origin=(0, 30.7830982, 0), x_dir=(1, 0, 0), z_dir=(0, 1, 0))):
            with Locations(Location((62.23, 24.522935612, 0), (0, 0, 270))):
                Circle(SKETCH36_R)
        extrude(amount=-CUT_EXTRUDE19_DEPTH, mode=Mode.SUBTRACT)


solid = body_2.part
